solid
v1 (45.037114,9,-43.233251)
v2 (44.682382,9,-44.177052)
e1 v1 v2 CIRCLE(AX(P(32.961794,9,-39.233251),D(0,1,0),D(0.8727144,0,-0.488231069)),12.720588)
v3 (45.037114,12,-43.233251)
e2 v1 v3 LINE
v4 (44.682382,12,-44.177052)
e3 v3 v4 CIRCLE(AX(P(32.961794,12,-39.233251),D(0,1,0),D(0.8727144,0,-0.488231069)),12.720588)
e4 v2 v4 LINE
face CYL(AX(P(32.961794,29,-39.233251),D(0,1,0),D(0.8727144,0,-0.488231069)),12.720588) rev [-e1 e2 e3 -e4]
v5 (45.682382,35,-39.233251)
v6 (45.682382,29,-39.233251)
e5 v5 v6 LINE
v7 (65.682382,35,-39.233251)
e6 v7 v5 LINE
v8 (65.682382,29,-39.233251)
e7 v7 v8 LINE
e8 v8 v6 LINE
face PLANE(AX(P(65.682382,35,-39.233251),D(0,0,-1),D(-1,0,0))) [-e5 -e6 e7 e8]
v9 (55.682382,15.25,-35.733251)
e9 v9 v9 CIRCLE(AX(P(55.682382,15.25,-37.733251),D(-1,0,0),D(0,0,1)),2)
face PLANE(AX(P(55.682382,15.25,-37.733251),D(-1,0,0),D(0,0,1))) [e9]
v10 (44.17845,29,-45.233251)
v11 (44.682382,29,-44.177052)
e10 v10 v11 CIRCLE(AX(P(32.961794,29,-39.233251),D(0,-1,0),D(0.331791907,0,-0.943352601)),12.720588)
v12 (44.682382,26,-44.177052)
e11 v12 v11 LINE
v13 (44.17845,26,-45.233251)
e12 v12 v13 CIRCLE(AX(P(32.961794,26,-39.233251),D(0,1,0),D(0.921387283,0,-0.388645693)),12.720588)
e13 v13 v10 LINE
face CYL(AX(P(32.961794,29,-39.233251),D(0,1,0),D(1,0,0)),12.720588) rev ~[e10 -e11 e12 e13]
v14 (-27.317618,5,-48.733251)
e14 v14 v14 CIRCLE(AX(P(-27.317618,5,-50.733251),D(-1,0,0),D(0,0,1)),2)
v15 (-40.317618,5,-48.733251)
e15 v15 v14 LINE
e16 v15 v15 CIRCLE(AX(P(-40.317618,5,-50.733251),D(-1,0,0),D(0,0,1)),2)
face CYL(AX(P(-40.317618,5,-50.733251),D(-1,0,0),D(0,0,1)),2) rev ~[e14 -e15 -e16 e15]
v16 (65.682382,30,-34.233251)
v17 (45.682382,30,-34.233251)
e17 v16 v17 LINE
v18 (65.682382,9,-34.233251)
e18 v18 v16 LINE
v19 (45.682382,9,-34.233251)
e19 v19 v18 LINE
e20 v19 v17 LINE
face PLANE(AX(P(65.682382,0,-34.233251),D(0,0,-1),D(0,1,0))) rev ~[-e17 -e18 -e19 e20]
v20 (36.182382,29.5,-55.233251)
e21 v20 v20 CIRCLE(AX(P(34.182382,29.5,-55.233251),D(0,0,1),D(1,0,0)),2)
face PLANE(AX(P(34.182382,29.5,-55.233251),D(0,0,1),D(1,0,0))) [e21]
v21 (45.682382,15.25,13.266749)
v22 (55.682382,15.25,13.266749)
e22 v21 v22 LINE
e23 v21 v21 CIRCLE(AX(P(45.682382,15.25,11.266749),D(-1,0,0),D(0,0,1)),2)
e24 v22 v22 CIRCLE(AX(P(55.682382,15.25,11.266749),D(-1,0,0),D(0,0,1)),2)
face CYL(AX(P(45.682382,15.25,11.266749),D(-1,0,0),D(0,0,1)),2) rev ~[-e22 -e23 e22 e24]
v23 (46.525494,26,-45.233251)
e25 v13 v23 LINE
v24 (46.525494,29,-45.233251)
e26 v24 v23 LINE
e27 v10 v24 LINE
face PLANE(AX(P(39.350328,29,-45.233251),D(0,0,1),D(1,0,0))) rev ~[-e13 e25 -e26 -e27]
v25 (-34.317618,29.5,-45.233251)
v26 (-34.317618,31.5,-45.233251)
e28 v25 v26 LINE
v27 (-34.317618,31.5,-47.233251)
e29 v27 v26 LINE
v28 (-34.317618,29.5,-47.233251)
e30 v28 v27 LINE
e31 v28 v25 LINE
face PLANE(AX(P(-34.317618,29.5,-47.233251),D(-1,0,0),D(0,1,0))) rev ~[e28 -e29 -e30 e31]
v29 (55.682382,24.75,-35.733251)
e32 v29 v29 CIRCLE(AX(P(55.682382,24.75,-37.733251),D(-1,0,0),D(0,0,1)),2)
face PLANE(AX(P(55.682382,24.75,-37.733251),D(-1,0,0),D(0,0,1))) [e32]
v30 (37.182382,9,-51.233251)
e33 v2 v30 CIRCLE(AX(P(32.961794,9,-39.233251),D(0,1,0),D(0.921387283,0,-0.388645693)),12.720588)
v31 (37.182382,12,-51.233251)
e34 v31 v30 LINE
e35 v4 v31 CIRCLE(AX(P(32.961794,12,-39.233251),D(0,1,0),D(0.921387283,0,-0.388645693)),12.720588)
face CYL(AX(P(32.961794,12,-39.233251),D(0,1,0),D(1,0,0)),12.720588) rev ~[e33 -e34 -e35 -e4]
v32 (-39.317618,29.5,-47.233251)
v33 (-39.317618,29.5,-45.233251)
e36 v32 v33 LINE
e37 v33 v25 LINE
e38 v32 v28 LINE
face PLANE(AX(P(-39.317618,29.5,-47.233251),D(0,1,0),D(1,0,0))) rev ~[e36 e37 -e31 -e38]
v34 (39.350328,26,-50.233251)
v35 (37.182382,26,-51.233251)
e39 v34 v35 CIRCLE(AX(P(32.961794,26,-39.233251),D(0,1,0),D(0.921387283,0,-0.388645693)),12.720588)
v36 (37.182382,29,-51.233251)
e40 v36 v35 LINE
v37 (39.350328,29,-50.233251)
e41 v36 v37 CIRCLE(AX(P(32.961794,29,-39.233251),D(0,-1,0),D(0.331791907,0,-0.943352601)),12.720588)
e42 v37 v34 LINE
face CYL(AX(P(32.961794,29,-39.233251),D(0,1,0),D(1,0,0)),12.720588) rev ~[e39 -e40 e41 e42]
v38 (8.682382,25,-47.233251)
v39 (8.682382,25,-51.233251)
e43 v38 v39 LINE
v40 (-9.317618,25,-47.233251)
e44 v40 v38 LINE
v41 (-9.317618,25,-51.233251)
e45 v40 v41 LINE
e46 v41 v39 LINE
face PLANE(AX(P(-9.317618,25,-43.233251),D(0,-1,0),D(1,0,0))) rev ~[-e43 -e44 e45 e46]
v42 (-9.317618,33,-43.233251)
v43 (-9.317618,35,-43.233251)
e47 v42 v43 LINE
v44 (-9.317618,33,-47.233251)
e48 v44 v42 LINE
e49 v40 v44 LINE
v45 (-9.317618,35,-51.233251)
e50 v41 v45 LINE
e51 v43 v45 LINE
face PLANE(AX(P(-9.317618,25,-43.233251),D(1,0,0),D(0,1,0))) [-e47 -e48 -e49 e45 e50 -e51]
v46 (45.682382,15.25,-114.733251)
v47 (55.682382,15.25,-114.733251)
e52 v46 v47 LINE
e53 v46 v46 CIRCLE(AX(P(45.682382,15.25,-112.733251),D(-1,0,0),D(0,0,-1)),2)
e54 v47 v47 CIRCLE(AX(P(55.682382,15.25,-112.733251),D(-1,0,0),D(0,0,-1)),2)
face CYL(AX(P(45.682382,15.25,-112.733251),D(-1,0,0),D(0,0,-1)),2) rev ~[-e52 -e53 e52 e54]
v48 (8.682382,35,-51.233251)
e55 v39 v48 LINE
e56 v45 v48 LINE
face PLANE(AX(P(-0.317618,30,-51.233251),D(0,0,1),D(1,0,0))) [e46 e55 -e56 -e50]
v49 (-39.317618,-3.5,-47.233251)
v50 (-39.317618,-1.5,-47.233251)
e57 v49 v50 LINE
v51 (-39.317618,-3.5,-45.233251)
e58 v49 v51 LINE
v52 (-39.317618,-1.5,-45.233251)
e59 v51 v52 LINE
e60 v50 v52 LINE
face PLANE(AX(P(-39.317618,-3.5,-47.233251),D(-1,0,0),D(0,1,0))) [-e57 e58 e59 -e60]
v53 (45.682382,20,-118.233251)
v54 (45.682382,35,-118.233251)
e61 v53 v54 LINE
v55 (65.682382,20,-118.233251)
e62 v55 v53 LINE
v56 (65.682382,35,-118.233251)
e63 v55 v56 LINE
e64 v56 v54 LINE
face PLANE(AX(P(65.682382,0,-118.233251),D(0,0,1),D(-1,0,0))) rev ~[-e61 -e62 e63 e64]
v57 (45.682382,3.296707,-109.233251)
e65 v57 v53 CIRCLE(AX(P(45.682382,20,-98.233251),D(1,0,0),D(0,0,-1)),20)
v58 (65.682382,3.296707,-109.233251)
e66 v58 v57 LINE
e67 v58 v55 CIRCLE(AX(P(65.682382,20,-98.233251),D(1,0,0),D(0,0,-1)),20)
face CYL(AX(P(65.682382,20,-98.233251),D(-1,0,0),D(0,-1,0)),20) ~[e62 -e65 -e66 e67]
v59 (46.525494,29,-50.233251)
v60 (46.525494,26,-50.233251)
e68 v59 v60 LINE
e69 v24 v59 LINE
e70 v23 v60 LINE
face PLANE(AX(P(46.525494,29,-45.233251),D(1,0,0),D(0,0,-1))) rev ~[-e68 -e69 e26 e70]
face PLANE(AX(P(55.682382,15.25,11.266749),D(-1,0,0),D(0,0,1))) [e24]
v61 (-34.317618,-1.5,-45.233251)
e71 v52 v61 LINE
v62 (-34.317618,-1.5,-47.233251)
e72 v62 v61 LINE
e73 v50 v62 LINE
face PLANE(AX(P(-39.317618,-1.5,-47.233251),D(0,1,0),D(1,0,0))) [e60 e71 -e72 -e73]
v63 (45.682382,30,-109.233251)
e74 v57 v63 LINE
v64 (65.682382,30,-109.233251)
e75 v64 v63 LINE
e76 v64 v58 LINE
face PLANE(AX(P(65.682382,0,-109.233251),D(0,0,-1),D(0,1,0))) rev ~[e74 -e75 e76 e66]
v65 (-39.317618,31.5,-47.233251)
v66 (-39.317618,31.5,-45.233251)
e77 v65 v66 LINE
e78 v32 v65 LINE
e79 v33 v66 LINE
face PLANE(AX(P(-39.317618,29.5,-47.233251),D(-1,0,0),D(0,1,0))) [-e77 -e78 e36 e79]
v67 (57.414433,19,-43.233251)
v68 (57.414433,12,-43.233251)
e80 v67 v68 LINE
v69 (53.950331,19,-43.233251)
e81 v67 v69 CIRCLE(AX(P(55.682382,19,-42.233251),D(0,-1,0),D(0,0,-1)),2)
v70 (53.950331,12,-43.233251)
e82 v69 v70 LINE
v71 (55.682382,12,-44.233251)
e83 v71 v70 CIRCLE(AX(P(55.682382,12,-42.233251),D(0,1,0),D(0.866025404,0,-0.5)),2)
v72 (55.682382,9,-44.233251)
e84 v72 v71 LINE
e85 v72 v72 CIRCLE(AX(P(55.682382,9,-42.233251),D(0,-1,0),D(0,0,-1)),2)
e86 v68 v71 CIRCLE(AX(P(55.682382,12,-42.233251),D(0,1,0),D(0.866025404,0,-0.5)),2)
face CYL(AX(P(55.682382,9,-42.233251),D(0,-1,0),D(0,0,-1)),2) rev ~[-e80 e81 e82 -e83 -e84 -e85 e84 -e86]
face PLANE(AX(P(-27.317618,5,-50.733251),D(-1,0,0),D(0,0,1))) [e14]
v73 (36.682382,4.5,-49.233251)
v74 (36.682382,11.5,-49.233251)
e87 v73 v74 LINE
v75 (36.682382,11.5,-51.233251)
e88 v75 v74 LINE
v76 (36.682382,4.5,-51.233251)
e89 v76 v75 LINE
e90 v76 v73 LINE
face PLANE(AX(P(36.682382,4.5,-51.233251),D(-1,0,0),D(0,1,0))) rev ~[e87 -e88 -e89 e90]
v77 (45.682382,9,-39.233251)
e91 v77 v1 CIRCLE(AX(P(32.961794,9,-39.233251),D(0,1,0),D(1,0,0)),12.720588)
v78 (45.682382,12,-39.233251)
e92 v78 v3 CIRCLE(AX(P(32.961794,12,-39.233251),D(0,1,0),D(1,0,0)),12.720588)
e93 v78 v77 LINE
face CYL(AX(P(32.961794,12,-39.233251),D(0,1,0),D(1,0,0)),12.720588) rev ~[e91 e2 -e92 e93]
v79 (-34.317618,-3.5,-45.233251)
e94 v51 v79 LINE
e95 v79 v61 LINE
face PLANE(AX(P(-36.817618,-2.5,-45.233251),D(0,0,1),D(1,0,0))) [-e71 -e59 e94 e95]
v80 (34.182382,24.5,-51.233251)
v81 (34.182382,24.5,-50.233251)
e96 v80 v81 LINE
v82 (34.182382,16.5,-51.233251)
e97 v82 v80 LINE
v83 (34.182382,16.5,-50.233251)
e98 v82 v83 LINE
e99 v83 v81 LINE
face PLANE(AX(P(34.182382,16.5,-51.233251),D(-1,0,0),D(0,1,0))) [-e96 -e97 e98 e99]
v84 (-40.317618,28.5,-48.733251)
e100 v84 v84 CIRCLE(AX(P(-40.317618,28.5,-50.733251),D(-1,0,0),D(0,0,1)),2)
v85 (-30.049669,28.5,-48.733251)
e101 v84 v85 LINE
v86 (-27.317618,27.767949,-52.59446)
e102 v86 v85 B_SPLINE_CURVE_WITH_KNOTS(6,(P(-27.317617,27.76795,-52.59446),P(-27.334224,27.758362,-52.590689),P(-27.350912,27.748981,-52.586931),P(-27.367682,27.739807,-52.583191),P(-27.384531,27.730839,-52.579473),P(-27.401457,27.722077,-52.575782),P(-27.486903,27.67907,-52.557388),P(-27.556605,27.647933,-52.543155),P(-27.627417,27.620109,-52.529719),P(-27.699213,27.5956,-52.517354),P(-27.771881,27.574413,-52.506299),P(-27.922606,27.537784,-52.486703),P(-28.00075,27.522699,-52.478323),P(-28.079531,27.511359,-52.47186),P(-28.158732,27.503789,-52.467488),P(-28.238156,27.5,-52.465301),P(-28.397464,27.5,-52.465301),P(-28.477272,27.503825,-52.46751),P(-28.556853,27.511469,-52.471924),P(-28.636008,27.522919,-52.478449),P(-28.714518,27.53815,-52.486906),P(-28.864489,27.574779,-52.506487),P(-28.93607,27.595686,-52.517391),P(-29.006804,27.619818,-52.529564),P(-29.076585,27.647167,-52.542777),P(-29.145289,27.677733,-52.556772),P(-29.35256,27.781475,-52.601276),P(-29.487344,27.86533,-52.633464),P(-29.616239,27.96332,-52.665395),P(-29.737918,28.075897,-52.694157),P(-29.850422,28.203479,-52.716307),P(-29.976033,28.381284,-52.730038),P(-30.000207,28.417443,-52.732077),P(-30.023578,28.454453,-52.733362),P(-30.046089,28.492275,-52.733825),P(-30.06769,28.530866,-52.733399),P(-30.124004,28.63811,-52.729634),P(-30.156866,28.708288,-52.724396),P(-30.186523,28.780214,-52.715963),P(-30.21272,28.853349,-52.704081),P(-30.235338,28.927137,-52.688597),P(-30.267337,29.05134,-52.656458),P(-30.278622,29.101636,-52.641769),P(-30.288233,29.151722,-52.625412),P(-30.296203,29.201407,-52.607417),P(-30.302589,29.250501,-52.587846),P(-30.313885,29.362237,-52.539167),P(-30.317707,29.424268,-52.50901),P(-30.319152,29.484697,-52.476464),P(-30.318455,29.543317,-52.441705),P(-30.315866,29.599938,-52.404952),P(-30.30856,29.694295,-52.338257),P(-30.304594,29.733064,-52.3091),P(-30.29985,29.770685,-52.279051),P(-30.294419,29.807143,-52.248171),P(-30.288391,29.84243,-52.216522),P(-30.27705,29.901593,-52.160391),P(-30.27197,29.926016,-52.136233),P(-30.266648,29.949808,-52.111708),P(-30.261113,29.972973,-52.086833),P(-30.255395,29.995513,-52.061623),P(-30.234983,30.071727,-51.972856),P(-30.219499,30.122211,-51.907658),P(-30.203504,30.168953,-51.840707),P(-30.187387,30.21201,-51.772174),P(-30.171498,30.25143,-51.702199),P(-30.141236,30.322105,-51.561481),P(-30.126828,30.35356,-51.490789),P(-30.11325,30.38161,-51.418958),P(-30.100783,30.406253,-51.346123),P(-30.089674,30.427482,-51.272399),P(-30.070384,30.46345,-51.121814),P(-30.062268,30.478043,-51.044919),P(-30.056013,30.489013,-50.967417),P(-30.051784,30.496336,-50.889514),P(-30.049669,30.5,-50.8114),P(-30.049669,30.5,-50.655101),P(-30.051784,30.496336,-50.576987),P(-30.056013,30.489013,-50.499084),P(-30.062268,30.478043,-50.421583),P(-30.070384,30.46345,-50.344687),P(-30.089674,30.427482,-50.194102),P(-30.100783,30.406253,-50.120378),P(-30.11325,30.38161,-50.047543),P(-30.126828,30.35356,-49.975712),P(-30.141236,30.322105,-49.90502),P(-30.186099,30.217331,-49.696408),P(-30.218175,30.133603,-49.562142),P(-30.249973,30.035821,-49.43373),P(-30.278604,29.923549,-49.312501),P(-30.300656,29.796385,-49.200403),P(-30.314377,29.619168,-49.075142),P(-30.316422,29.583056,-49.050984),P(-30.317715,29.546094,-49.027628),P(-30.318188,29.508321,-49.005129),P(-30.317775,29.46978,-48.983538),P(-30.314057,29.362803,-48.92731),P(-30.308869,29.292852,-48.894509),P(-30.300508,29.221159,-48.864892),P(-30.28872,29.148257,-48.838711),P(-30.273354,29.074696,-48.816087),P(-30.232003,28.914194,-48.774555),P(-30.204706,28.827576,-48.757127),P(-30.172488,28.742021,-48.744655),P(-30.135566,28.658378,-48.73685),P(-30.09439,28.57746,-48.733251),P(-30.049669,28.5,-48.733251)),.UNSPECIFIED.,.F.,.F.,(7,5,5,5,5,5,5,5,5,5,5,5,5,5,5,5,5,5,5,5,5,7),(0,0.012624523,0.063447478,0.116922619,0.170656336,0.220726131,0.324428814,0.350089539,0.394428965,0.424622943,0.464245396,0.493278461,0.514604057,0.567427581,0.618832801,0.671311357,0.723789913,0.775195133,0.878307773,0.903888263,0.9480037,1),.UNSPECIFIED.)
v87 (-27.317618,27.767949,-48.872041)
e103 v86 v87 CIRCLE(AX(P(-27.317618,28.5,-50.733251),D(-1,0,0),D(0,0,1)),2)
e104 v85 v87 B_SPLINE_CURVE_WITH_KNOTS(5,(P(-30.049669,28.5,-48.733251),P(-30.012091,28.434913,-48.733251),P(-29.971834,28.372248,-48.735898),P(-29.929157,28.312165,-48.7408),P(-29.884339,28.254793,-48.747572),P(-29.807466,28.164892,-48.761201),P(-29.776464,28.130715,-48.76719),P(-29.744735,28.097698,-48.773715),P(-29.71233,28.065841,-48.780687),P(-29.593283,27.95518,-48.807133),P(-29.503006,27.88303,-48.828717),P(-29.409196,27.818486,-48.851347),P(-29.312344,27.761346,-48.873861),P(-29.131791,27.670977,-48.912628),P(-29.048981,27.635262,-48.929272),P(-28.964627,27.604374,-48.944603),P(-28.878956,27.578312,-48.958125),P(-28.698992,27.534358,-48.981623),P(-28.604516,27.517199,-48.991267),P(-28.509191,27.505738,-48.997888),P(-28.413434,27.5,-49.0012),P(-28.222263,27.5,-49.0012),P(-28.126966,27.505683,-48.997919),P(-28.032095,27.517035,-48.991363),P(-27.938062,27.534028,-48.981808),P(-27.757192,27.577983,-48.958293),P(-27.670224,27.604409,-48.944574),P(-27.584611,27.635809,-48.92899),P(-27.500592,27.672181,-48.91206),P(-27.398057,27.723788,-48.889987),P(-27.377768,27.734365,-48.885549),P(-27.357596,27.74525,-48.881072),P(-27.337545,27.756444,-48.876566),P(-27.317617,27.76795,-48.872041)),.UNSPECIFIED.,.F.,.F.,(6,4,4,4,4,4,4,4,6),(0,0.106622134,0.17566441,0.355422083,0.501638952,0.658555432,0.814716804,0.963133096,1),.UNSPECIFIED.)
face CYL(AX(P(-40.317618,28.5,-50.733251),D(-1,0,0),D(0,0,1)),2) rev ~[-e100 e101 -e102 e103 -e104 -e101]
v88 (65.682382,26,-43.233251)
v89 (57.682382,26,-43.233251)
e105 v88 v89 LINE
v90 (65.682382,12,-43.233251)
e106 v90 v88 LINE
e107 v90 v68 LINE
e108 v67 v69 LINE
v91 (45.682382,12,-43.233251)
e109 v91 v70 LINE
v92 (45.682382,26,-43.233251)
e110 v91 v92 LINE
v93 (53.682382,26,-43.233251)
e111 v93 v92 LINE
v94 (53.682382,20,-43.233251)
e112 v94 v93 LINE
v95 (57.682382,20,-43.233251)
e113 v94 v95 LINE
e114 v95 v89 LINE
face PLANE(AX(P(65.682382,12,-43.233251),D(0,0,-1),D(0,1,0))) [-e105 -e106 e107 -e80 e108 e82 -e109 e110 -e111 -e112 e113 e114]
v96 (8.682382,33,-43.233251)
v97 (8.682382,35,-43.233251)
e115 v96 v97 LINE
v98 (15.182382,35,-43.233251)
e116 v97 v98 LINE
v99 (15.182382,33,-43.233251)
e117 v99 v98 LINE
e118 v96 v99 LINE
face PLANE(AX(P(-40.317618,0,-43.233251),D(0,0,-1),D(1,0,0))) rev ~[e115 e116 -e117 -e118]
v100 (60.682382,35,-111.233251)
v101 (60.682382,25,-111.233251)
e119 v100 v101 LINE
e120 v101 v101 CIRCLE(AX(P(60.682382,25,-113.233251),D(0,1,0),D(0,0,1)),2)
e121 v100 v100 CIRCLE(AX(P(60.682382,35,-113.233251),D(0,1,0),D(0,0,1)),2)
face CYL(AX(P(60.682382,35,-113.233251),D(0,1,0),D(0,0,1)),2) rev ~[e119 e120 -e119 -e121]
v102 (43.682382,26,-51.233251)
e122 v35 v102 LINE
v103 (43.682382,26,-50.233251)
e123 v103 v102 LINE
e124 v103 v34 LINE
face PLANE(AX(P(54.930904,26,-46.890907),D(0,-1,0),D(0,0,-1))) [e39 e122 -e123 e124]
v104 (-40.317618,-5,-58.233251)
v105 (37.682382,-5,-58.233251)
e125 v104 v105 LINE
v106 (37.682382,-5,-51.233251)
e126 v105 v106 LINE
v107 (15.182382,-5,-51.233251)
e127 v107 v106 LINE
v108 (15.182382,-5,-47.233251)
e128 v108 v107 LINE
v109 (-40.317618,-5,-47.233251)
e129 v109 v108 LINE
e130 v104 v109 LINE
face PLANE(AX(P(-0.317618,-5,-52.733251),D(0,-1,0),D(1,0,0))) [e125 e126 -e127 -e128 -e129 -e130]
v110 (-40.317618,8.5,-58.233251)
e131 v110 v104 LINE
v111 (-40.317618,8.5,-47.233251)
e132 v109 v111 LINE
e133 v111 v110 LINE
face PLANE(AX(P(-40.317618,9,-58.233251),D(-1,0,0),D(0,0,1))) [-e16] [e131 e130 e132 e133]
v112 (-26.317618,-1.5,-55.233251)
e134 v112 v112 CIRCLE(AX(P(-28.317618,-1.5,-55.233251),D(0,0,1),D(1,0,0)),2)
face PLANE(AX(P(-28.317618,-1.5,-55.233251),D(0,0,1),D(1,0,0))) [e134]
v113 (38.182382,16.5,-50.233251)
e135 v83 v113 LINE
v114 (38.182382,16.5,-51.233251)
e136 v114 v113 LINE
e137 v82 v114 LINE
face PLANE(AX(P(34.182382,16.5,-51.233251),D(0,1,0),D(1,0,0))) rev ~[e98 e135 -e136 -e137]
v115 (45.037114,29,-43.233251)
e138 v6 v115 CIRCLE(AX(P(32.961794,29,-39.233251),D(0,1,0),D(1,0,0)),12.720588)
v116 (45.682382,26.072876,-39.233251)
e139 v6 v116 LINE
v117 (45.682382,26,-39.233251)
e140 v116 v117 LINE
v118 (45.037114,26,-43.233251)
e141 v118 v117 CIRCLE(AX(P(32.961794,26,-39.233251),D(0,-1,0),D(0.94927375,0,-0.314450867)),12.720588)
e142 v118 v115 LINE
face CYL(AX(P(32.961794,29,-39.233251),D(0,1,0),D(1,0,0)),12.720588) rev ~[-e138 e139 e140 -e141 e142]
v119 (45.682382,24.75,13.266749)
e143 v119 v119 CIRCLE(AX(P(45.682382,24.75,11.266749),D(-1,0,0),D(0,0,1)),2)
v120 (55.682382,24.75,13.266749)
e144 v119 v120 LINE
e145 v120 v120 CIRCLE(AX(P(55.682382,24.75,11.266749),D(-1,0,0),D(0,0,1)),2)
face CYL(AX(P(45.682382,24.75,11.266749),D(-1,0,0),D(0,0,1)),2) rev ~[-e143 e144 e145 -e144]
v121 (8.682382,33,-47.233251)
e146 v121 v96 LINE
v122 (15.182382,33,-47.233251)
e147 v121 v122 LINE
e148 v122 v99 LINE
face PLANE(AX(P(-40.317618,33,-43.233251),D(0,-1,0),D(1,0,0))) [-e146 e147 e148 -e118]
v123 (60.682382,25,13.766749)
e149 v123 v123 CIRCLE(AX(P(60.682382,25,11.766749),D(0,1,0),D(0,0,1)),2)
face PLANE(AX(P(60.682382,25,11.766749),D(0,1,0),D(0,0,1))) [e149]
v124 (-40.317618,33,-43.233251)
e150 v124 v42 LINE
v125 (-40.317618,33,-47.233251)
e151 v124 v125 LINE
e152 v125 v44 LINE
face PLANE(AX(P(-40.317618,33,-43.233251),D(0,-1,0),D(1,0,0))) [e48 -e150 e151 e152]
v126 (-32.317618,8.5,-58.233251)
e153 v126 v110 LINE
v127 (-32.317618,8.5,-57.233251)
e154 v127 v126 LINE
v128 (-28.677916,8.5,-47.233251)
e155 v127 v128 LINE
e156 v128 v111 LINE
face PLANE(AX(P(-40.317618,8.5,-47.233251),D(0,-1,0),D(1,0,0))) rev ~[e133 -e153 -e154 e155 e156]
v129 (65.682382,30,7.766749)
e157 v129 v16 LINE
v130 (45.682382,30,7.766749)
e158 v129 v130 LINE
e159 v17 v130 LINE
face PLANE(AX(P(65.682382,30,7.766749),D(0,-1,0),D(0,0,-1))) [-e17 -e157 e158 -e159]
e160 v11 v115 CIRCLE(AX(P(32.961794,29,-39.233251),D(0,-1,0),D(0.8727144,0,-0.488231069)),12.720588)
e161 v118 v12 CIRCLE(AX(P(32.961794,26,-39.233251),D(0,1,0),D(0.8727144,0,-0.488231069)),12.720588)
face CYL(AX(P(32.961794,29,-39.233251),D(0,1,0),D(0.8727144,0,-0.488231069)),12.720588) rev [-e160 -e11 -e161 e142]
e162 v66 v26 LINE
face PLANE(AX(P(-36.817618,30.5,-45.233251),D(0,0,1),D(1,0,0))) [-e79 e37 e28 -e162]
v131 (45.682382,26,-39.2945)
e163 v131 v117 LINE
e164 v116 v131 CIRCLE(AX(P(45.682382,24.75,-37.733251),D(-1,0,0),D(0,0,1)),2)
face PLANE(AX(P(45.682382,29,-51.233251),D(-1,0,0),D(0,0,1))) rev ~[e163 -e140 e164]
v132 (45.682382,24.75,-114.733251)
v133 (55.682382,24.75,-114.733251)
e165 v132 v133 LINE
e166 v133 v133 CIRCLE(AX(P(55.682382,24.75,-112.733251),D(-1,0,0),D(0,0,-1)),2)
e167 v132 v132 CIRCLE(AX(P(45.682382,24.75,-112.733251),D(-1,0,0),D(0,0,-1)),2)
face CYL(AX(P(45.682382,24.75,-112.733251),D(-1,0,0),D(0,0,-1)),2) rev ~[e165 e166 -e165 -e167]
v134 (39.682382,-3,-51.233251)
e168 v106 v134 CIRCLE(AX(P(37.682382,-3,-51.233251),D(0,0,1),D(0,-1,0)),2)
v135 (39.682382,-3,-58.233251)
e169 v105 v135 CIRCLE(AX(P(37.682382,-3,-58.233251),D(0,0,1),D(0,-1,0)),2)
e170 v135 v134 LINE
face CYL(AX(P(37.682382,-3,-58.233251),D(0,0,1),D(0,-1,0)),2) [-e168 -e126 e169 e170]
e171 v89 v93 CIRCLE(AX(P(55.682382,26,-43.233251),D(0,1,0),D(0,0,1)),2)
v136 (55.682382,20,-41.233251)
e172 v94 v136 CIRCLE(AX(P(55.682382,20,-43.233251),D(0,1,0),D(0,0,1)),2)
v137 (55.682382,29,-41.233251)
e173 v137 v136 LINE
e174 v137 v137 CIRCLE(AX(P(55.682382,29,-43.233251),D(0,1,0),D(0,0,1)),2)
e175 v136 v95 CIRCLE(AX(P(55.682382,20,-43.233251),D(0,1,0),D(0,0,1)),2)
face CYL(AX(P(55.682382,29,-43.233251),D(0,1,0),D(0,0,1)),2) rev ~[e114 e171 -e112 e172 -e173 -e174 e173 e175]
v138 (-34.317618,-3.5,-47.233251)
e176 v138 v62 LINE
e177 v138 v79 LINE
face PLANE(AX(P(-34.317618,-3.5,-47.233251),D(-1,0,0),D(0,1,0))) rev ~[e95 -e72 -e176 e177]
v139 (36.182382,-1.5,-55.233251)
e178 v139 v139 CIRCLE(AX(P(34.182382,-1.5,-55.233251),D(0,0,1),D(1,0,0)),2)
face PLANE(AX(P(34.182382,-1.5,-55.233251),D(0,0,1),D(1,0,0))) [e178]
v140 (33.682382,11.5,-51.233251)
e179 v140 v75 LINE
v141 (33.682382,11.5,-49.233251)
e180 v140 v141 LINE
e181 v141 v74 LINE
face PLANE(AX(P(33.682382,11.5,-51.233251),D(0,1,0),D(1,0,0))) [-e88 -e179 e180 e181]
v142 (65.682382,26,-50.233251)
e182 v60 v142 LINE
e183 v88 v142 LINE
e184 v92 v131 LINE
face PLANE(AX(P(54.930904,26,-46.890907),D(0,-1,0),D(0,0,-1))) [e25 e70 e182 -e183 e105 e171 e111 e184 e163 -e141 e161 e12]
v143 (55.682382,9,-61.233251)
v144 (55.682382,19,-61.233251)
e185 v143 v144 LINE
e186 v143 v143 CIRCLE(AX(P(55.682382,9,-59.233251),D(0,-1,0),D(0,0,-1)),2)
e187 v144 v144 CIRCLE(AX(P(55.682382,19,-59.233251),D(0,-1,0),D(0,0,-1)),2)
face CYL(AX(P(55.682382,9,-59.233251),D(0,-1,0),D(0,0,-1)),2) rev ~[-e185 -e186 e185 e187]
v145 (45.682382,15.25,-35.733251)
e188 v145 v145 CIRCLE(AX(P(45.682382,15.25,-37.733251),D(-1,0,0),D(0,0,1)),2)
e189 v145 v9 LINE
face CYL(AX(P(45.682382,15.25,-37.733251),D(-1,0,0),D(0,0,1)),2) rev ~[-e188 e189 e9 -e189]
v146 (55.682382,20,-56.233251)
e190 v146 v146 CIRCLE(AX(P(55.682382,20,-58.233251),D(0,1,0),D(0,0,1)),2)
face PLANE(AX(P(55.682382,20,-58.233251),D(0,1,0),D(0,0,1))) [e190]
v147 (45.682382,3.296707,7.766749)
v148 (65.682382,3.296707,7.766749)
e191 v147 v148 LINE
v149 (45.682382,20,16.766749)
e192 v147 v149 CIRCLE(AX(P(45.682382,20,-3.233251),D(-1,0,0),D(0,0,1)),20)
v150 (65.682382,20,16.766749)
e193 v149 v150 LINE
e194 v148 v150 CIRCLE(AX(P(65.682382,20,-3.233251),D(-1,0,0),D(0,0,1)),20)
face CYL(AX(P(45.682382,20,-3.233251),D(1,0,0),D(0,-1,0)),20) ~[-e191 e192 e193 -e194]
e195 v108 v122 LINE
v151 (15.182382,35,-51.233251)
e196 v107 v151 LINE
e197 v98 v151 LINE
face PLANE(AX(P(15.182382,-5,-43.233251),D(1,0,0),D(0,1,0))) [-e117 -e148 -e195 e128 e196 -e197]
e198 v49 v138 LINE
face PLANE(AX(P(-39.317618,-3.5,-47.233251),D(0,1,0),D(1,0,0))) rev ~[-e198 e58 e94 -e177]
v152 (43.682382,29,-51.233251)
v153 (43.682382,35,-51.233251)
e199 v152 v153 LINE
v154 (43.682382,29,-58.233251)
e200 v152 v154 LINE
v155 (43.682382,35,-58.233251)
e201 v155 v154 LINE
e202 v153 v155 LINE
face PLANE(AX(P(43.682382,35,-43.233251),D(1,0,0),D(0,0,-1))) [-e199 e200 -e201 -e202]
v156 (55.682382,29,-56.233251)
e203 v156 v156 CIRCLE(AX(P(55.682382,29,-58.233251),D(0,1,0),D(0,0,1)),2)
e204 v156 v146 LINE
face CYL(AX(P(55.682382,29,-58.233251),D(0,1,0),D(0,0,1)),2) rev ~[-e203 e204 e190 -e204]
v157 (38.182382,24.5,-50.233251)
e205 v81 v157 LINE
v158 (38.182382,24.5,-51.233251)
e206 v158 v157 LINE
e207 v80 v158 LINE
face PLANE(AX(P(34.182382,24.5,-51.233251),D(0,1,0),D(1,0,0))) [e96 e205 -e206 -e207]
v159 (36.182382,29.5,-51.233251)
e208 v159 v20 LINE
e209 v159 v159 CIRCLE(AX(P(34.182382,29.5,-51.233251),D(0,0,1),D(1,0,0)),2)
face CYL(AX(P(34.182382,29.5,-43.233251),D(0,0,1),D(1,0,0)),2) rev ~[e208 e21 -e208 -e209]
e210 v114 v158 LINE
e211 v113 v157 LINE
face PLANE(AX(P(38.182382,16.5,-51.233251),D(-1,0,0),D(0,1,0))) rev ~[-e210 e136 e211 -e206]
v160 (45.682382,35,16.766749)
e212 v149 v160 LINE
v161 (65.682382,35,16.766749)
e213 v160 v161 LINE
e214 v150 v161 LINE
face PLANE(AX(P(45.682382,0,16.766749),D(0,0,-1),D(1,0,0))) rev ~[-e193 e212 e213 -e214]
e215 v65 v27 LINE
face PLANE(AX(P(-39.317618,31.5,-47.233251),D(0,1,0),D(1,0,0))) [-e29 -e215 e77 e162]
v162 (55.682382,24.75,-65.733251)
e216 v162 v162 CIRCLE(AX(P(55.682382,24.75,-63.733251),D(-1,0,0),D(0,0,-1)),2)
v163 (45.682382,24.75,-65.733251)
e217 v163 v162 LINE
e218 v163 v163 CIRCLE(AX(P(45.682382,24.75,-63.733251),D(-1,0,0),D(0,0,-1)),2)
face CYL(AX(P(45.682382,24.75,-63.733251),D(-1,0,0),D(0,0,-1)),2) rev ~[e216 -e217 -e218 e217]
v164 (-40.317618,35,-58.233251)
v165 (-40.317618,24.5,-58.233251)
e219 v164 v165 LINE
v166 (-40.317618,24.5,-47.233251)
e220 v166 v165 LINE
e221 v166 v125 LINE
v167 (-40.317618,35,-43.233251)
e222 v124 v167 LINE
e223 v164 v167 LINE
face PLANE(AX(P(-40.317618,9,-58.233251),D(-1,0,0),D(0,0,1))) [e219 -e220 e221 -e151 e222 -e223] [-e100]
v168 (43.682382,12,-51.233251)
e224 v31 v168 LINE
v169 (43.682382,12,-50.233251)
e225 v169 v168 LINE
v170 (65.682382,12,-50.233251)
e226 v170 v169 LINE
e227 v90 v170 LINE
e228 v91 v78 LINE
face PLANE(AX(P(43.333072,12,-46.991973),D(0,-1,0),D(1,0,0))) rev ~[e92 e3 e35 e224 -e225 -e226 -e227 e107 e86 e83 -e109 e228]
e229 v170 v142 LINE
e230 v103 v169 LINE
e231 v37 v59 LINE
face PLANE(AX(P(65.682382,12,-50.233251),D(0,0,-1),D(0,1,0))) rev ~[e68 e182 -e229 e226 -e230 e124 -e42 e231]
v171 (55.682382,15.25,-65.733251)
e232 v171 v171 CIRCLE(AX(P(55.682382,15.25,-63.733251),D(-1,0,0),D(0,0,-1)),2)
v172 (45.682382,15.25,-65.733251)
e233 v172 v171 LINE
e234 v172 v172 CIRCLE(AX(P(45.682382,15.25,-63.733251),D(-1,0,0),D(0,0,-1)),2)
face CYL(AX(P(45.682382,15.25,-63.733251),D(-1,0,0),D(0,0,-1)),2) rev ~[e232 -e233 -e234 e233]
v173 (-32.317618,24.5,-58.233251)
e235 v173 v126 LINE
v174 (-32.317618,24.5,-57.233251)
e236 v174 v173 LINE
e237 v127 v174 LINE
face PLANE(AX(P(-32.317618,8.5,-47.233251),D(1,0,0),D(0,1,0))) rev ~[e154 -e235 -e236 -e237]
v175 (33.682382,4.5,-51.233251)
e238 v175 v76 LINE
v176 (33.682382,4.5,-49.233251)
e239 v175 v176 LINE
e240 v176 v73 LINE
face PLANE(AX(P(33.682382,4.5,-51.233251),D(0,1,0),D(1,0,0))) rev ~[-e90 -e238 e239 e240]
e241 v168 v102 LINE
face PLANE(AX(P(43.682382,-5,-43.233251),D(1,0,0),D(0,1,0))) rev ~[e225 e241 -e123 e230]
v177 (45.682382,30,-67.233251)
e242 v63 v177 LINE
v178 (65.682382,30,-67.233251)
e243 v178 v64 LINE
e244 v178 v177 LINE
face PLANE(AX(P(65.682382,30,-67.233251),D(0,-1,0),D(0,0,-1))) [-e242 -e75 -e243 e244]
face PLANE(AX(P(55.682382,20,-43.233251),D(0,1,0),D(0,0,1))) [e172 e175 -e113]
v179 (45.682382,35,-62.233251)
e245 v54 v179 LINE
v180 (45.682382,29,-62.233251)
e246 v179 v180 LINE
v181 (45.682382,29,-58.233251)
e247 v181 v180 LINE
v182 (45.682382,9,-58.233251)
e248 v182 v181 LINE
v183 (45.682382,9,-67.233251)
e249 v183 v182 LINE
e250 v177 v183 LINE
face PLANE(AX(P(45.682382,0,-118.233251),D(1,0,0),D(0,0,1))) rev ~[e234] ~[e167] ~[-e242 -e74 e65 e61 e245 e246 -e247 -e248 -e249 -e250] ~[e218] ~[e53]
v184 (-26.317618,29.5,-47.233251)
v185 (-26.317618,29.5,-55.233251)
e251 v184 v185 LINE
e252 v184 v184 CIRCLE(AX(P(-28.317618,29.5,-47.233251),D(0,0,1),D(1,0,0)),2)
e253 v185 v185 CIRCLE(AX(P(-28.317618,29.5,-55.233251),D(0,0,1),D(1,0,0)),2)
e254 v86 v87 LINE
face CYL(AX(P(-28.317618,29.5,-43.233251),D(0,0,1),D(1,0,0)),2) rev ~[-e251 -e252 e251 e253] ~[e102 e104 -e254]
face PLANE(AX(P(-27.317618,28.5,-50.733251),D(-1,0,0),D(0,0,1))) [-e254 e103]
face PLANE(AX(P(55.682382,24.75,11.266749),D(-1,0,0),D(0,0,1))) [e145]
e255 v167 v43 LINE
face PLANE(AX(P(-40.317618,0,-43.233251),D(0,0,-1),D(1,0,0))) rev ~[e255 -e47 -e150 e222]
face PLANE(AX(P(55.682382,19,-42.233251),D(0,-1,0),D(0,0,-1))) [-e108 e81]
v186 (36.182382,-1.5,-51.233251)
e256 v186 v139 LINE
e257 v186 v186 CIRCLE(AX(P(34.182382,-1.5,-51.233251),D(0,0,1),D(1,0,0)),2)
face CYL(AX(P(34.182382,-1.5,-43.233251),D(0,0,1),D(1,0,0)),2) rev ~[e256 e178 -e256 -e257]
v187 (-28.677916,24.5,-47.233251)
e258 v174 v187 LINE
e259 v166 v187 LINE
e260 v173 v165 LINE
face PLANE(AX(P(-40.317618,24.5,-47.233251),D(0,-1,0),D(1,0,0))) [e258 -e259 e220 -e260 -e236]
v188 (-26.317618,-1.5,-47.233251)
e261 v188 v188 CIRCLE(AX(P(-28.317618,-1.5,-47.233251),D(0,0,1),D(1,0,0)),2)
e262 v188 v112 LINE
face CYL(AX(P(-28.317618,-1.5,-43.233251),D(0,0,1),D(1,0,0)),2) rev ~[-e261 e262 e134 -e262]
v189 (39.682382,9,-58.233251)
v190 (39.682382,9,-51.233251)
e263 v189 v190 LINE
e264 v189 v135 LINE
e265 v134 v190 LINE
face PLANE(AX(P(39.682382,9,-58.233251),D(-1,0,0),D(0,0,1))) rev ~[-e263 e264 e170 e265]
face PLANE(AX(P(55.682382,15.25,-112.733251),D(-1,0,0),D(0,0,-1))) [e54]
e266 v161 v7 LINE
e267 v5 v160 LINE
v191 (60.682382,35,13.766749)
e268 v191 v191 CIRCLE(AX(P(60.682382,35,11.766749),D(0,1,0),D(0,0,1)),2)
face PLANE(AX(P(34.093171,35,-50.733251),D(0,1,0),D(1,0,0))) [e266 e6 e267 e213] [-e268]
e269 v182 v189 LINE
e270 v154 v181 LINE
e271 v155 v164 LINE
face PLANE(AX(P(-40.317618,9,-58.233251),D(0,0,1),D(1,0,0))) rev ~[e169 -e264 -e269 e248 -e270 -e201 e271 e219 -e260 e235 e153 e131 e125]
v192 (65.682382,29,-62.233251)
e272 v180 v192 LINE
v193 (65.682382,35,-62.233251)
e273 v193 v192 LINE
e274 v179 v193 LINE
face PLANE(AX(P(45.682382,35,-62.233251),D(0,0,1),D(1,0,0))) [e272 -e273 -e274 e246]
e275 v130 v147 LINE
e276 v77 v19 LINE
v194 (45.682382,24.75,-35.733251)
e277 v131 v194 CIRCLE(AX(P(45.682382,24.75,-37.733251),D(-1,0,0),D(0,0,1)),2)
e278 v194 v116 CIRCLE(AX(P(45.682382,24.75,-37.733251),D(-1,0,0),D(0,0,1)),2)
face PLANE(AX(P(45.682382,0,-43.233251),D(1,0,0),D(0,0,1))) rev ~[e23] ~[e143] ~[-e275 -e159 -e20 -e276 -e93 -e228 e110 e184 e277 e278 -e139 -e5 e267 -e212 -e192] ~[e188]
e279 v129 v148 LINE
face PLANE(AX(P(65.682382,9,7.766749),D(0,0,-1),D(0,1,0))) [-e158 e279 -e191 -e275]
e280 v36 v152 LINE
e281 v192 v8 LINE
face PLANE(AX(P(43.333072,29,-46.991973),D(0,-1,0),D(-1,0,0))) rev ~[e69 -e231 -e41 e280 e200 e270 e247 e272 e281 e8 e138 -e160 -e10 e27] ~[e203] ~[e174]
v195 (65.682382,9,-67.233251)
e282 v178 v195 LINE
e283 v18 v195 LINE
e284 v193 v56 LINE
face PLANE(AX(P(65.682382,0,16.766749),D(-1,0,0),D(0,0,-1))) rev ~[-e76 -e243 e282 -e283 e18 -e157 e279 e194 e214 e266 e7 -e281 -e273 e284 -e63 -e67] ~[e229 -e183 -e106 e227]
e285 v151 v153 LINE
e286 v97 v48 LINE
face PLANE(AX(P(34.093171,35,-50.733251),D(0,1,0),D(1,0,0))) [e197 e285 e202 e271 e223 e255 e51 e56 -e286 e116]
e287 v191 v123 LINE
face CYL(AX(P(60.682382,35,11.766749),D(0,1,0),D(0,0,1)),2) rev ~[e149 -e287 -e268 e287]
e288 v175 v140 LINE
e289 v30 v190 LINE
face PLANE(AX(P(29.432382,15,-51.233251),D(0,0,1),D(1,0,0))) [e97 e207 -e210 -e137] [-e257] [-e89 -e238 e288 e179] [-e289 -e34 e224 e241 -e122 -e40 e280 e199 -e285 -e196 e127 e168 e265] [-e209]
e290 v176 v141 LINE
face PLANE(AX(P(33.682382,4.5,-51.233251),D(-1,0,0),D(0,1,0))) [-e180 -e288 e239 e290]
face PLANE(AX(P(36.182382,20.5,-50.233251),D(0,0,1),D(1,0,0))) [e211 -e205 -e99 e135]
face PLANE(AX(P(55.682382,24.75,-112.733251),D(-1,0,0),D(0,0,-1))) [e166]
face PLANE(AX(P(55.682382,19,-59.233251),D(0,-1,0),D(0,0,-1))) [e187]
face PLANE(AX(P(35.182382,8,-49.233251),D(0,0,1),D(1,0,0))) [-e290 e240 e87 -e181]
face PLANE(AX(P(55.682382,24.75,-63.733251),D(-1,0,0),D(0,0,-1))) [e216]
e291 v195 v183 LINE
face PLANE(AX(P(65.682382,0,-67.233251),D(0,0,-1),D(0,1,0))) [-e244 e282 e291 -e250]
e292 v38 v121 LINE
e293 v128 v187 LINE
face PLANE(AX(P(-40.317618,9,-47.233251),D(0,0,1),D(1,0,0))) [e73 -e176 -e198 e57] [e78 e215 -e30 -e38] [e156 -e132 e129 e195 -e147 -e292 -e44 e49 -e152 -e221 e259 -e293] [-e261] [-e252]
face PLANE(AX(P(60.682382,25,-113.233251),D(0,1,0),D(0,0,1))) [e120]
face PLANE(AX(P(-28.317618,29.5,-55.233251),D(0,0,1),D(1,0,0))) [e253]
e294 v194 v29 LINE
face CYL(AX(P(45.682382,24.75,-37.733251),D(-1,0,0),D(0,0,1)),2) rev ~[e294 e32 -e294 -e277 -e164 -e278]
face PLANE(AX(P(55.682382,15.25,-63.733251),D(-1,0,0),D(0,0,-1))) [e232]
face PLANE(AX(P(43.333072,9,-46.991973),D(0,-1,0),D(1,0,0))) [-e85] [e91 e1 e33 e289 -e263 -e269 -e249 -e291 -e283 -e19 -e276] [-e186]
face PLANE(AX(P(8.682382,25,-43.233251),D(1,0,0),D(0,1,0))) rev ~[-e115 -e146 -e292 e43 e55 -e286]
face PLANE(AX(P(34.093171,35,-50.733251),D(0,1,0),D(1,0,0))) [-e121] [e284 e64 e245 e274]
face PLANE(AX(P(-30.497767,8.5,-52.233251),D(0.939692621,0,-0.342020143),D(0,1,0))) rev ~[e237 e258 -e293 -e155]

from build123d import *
from build123d.topology import SkipClean

# Parameters (mm, degrees)
BOSS_EXTRUDE1_DEPTH      = 35
CUT_EXTRUDE1_REACH       = 164.604
SKETCH2_W                = 42
SKETCH2_H                = 21
SKETCH3_R                = 2
CUT_EXTRUDE2_DEPTH       = 10
FILLET1_R                = 20
CUT_EXTRUDE5_REACH       = 164.604
SKETCH6_W                = 42
SKETCH6_H                = 9
CUT_EXTRUDE7_DEPTH       = 9
SKETCH9_R                = 2
CUT_EXTRUDE8_DEPTH       = 10
CUT_EXTRUDE9_DEPTH       = 6
SKETCH11_R               = 2
CUT_EXTRUDE10_DEPTH      = 9
SKETCH12_R               = 2
CUT_EXTRUDE11_DEPTH      = 10
SKETCH14_W               = 85
SKETCH14_H               = 33
CUT_EXTRUDE13_DEPTH      = 4
SKETCH15_W               = 28
SKETCH15_H               = 20
CUT_EXTRUDE14_DEPTH      = 4
BOSS_EXTRUDE2_DEPTH      = 5
BOSS_EXTRUDE2_DEPTH_BACK = 9
SKETCH16_W               = 80
SKETCH16_H               = 11
SKETCH13_R               = 2
CUT_EXTRUDE12_DEPTH      = 12
FILLET2_R                = 2
SKETCH17_W               = 28.5
SKETCH17_H               = 40
SKETCH17_W_2             = 18
SKETCH17_H_2             = 10
CUT_EXTRUDE15_DEPTH      = 8
CUT_EXTRUDE18_REACH      = 104.86
SKETCH20_W               = 8
SKETCH20_H               = 16
SKETCH7_R                = 2
CUT_EXTRUDE6_DEPTH       = 13
CHAMFER1_SIZE            = 10
CHAMFER1_SIZE2           = 3.639702343
CUT_EXTRUDE19_REACH      = 164.604
SKETCH22_W               = 7
SKETCH22_H               = 14
BOSS_EXTRUDE4_REACH      = 141.461
BOSS_EXTRUDE5_START      = -3
BOSS_EXTRUDE5_DEPTH      = 3
CUT_EXTRUDE21_DEPTH      = 140.460664257
CUT_EXTRUDE22_REACH      = 141.461
SKETCH27_W               = 7.175165893
SKETCH27_H               = 5
SKETCH28_W               = 5
SKETCH28_H               = 2
BOSS_EXTRUDE6_DEPTH      = 2
SKETCH29_W               = 4
SKETCH29_H               = 8
BOSS_EXTRUDE7_DEPTH      = 1
SKETCH30_W               = 3
SKETCH30_H               = 7
BOSS_EXTRUDE8_DEPTH      = 2


with BuildPart() as part:
    # Sketch1 → Boss-Extrude1 (new body)
    with BuildSketch(Plane(origin=(0, 0, 0), x_dir=(1, 0, 0), z_dir=(0, 1, 0))):
        Polygon((-40.317617866, 43.23325062), (45.682382134, 43.23325062), (45.682382134, -16.76674938), (65.682382134, -16.76674938), (65.682382134, 118.23325062), (45.682382134, 118.23325062), (45.682382134, 58.23325062), (-40.317617866, 58.23325062), align=None)
    extrude(amount=BOSS_EXTRUDE1_DEPTH)

    # Sketch2 → Cut-Extrude1 (cut, up to next)
    with BuildSketch(Plane(origin=(65.682382134, 0, 0), x_dir=(0, 0, -1), z_dir=(1, 0, 0)), mode=Mode.PRIVATE) as cut_extrude1_sk1:
        with Locations((13.23325062, 19.5)):
            Rectangle(SKETCH2_W, SKETCH2_H)
    cut_extrude1_tool1 = extrude(cut_extrude1_sk1.sketch, amount=-CUT_EXTRUDE1_REACH, mode=Mode.PRIVATE) & part.part
    # Sketch2 → Cut-Extrude1 (cut, up to next)
    with BuildSketch(Plane(origin=(65.682382134, 0, 0), x_dir=(0, 0, -1), z_dir=(1, 0, 0)), mode=Mode.PRIVATE) as cut_extrude1_sk2:
        with Locations((88.23325062, 19.5)):
            Rectangle(SKETCH2_W, SKETCH2_H)
    cut_extrude1_tool2 = extrude(cut_extrude1_sk2.sketch, amount=-CUT_EXTRUDE1_REACH, mode=Mode.PRIVATE) & part.part
    add(cut_extrude1_tool1.solids().sort_by_distance((65.682382, 19.5, -13.233251))[0], mode=Mode.SUBTRACT)
    add(cut_extrude1_tool2.solids().sort_by_distance((65.682382, 19.5, -88.233251))[0], mode=Mode.SUBTRACT)

    # Sketch3 → Cut-Extrude2 (cut)
    with BuildSketch(Plane.ZY.offset(-45.682382134)):
        with Locations((11.26674938, 24.75)):
            Circle(SKETCH3_R)
        with Locations((11.26674938, 15.25)):
            Circle(SKETCH3_R)
        with Locations((-37.73325062, 24.75)):
            Circle(SKETCH3_R)
        with Locations((-37.73325062, 15.25)):
            Circle(SKETCH3_R)
        with Locations(Location((-112.73325062, 24.75, 0), (0, 0, 180))):
            Circle(SKETCH3_R)
        with Locations(Location((-112.73325062, 15.25, 0), (0, 0, 180))):
            Circle(SKETCH3_R)
        with Locations(Location((-63.73325062, 15.25, 0), (0, 0, 180))):
            Circle(SKETCH3_R)
        with Locations(Location((-63.73325062, 24.75, 0), (0, 0, 180))):
            Circle(SKETCH3_R)
    extrude(amount=-CUT_EXTRUDE2_DEPTH, mode=Mode.SUBTRACT)

    # Fillet1
    fillet1_edges = [part.edges().sort_by_distance(p)[0] for p in [
        (55.682382134, 0, -118.23325062),
        (55.682382134, 0, 16.76674938),
    ]]
    fillet(fillet1_edges, radius=FILLET1_R)

    # Sketch6 → Cut-Extrude5 (cut, up to next)
    with BuildSketch(Plane(origin=(65.682382134, 0, 0), x_dir=(0, 0, -1), z_dir=(1, 0, 0)), mode=Mode.PRIVATE) as cut_extrude5_sk1:
        with Locations((13.23325062, 4.5)):
            Rectangle(SKETCH6_W, SKETCH6_H)
    cut_extrude5_tool1 = extrude(cut_extrude5_sk1.sketch, amount=-CUT_EXTRUDE5_REACH, mode=Mode.PRIVATE) & part.part
    # Sketch6 → Cut-Extrude5 (cut, up to next)
    with BuildSketch(Plane(origin=(65.682382134, 0, 0), x_dir=(0, 0, -1), z_dir=(1, 0, 0)), mode=Mode.PRIVATE) as cut_extrude5_sk2:
        with Locations((88.23325062, 4.5)):
            Rectangle(SKETCH6_W, SKETCH6_H)
    cut_extrude5_tool2 = extrude(cut_extrude5_sk2.sketch, amount=-CUT_EXTRUDE5_REACH, mode=Mode.PRIVATE) & part.part
    add(cut_extrude5_tool1.solids().sort_by_distance((65.682382, 4.5, -13.233251))[0], mode=Mode.SUBTRACT)
    add(cut_extrude5_tool2.solids().sort_by_distance((65.682382, 4.5, -88.233251))[0], mode=Mode.SUBTRACT)

    # Sketch8 → Cut-Extrude7 (cut)
    with BuildSketch(Plane.XZ):
        Polygon((45.682382134, -67.23325062), (45.682382134, -58.23325062), (25.682382134, -58.23325062), (25.682382134, -43.23325062), (45.682382134, -43.23325062), (45.682382134, -34.23325062), (65.682382134, -34.23325062), (65.682382134, -67.23325062), align=None)
    extrude(amount=-CUT_EXTRUDE7_DEPTH, mode=Mode.SUBTRACT)

    # Sketch9 → Cut-Extrude8 (cut)
    with BuildSketch(Plane.XZ.offset(-9)):
        with Locations(Location((55.682382134, -42.23325062, 0), (0, 0, 270))):
            Circle(SKETCH9_R)
        with Locations(Location((55.682382134, -59.23325062, 0), (0, 0, 270))):
            Circle(SKETCH9_R)
    extrude(amount=-CUT_EXTRUDE8_DEPTH, mode=Mode.SUBTRACT)

    # Sketch10 → Cut-Extrude9 (cut)
    with BuildSketch(Plane(origin=(0, 35, 0), x_dir=(1, 0, 0), z_dir=(0, 1, 0))):
        Polygon((45.682382134, 62.23325062), (65.682382134, 62.23325062), (65.682382134, 39.23325062), (45.682382134, 39.23325062), (45.682382134, 43.23325062), (43.682382134, 43.23325062), (43.682382134, 58.23325062), (45.682382134, 58.23325062), align=None)
    extrude(amount=-CUT_EXTRUDE9_DEPTH, mode=Mode.SUBTRACT)

    # Sketch11 → Cut-Extrude10 (cut)
    with BuildSketch(Plane(origin=(0, 29, 0), x_dir=(1, 0, 0), z_dir=(0, 1, 0))):
        with Locations(Location((55.682382134, 58.23325062, 0), (0, 0, 270))):
            Circle(SKETCH11_R)
        with Locations(Location((55.682382134, 43.23325062, 0), (0, 0, 270))):
            Circle(SKETCH11_R)
    extrude(amount=-CUT_EXTRUDE10_DEPTH, mode=Mode.SUBTRACT)

    # Sketch12 → Cut-Extrude11 (cut)
    with BuildSketch(Plane(origin=(0, 35, 0), x_dir=(1, 0, 0), z_dir=(0, 1, 0))):
        with Locations(Location((60.682382134, -11.76674938, 0), (0, 0, 270))):
            Circle(SKETCH12_R)
        with Locations(Location((60.682382134, 113.23325062, 0), (0, 0, 270))):
            Circle(SKETCH12_R)
    extrude(amount=-CUT_EXTRUDE11_DEPTH, mode=Mode.SUBTRACT)

    # Sketch14 → Cut-Extrude13 (cut)
    with BuildSketch(Plane.XY.offset(-43.23325062)):
        with Locations((2.182382134, 16.5)):
            Rectangle(SKETCH14_W, SKETCH14_H)
    extrude(amount=-CUT_EXTRUDE13_DEPTH, mode=Mode.SUBTRACT)

    # Sketch15 → Cut-Extrude14 (cut)
    with BuildSketch(Plane.XY.offset(-47.23325062)):
        with Locations((29.682382134, 10)):
            Rectangle(SKETCH15_W, SKETCH15_H)
    extrude(amount=-CUT_EXTRUDE14_DEPTH, mode=Mode.SUBTRACT)

    # Sketch16 → Boss-Extrude2 (add, two sides: drawn at the far end of the back side and taken through both)
    with BuildSketch(Plane.XZ.offset(-BOSS_EXTRUDE2_DEPTH_BACK)):
        with Locations((-0.317617866, -52.73325062)):
            Rectangle(SKETCH16_W, SKETCH16_H)
    extrude(amount=BOSS_EXTRUDE2_DEPTH + BOSS_EXTRUDE2_DEPTH_BACK)

    # Sketch13 → Cut-Extrude12 (cut)
    with BuildSketch(Plane.XY.offset(-43.23325062)):
        with Locations((-28.317617866, 29.5)):
            Circle(SKETCH13_R)
        with Locations((34.182382134, 29.5)):
            Circle(SKETCH13_R)
        with Locations((34.182382134, -1.5)):
            Circle(SKETCH13_R)
        with Locations((-28.317617866, -1.5)):
            Circle(SKETCH13_R)
    extrude(amount=-CUT_EXTRUDE12_DEPTH, mode=Mode.SUBTRACT)

    # Fillet2
    fillet2_edges = [part.edges().sort_by_distance(p)[0] for p in [
        (39.682382134, -5, -52.73325062),
    ]]
    fillet(fillet2_edges, radius=FILLET2_R)

    # Sketch17 → Cut-Extrude15 (cut)
    with BuildSketch(Plane.XY.offset(-43.23325062)):
        with Locations((29.432382134, 15)):
            Rectangle(SKETCH17_W, SKETCH17_H)
        with Locations((-0.317617866, 30)):
            Rectangle(SKETCH17_W_2, SKETCH17_H_2)
    extrude(amount=-CUT_EXTRUDE15_DEPTH, mode=Mode.SUBTRACT)

    # Sketch20 → Cut-Extrude18 (cut, up to next)
    with BuildSketch(Plane.XY.offset(-47.23325062), mode=Mode.PRIVATE) as cut_extrude18_sk1:
        with Locations((-36.317617866, 16.5)):
            Rectangle(SKETCH20_W, SKETCH20_H)
    cut_extrude18_tool1 = extrude(cut_extrude18_sk1.sketch, amount=-CUT_EXTRUDE18_REACH, mode=Mode.PRIVATE) & part.part
    add(cut_extrude18_tool1.solids().sort_by_distance((-36.317618, 16.5, -47.233251))[0], mode=Mode.SUBTRACT)

    # Sketch7 → Cut-Extrude6 (cut)
    with BuildSketch(Plane.ZY.offset(40.317617866)):
        with Locations((-50.73325062, 28.5)):
            Circle(SKETCH7_R)
        with Locations((-50.73325062, 5)):
            Circle(SKETCH7_R)
    extrude(amount=-CUT_EXTRUDE6_DEPTH, mode=Mode.SUBTRACT)

    # Chamfer1
    chamfer1_edges = [part.edges().sort_by_distance(p)[0] for p in [
        (-32.317617866, 16.5, -47.23325062),
    ]]
    chamfer1_side = [part.faces().sort_by_distance(p)[0] for p in [
        (-32.317617866, 16.5, -52.73325062),
    ]]
    chamfer(chamfer1_edges, length=CHAMFER1_SIZE, length2=CHAMFER1_SIZE2, reference=chamfer1_side[0])

    # Sketch22 → Cut-Extrude19 (cut, up to next)
    with BuildSketch(Plane(origin=(65.682382134, 0, 0), x_dir=(0, 0, -1), z_dir=(1, 0, 0)), mode=Mode.PRIVATE) as cut_extrude19_sk1:
        with Locations((46.73325062, 19)):
            Rectangle(SKETCH22_W, SKETCH22_H)
    cut_extrude19_tool1 = extrude(cut_extrude19_sk1.sketch, amount=-CUT_EXTRUDE19_REACH, mode=Mode.PRIVATE) & part.part
    add(cut_extrude19_tool1.solids().sort_by_distance((65.682382, 19, -46.733251))[0], mode=Mode.SUBTRACT)

    # Boss-Extrude4: up to this face of the body (flat: up to its plane)
    boss_extrude4_end = Plane(part.part.faces().sort_by_distance((54.930904304, 26, -46.8909066))[0])
    # Sketch24 → Boss-Extrude4 (add, up to the picked face)
    with BuildSketch(Plane(origin=(0, 29, 0), x_dir=(1, 0, 0), z_dir=(0, 1, 0)), mode=Mode.PRIVATE) as boss_extrude4_sk1:
        with BuildLine():
            Line((37.182382134, 51.23325062), (45.682382134, 51.23325062))
            Line((45.682382134, 51.23325062), (45.682382134, 39.23325062))
            ThreePointArc((45.682382134, 39.23325062), (43.342105313, 46.585971205), (37.182382134, 51.23325062))
        make_face()
    boss_extrude4_tool1 = split(extrude(boss_extrude4_sk1.sketch, amount=-BOSS_EXTRUDE4_REACH, mode=Mode.PRIVATE), bisect_by=boss_extrude4_end, keep=Keep.BOTH, mode=Mode.PRIVATE)
    add(boss_extrude4_tool1.solids().sort_by(Axis((43.397163, 29, -48.466484), (0, -1, 0)))[0])

    # Sketch25 → Boss-Extrude5 (add)
    with BuildSketch(Plane.XZ.offset(-9).offset(BOSS_EXTRUDE5_START)):
        with BuildLine():
            Line((37.182382134, -51.23325062), (45.682382134, -51.23325062))
            Line((45.682382134, -51.23325062), (45.682382134, -39.23325062))
            ThreePointArc((45.682382134, -39.23325062), (43.342105313, -46.585971205), (37.182382134, -51.23325062))
        make_face()
    extrude(amount=BOSS_EXTRUDE5_DEPTH)

    # Sketch26 → Cut-Extrude21 (cut, through all)
    with BuildSketch(Plane(origin=(0, 29, 0), x_dir=(1, 0, 0), z_dir=(0, 1, 0))):
        with BuildLine():
            Line((45.239754001, 42.559669232), (43.686053775, 42.559669232))
            Line((43.686053775, 42.559669232), (44.063234426, 45.443837008))
            ThreePointArc((44.063234426, 45.443837008), (44.740108693, 44.037901041), (45.239754001, 42.559669232))
        make_face()
    extrude(amount=-CUT_EXTRUDE21_DEPTH, mode=Mode.SUBTRACT)

    # Sketch27 → Cut-Extrude22 (cut, up to next)
    with BuildSketch(Plane(origin=(0, 29, 0), x_dir=(1, 0, 0), z_dir=(0, 1, 0)), mode=Mode.PRIVATE) as cut_extrude22_sk1:
        with Locations((42.937910719, 47.73325062)):
            Rectangle(SKETCH27_W, SKETCH27_H)
    cut_extrude22_tool1 = extrude(cut_extrude22_sk1.sketch, amount=-CUT_EXTRUDE22_REACH, mode=Mode.PRIVATE) & part.part
    add(cut_extrude22_tool1.solids().sort_by_distance((42.937911, 29, -47.733251))[0], mode=Mode.SUBTRACT)

    # Sketch28 → Boss-Extrude6 (add)
    with SkipClean():  # the faces are left unmerged after this step: merging them gives an invalid solid
        with BuildSketch(Plane.XY.offset(-47.23325062)):
            with Locations((-36.817617866, 30.5)):
                Rectangle(SKETCH28_W, SKETCH28_H)
            with Locations((-36.817617866, -2.5)):
                Rectangle(SKETCH28_W, SKETCH28_H)
        extrude(amount=BOSS_EXTRUDE6_DEPTH)

    # Sketch29 → Boss-Extrude7 (add)
    with SkipClean():  # the faces are left unmerged after this step: merging them gives an invalid solid
        with BuildSketch(Plane.XY.offset(-51.23325062)):
            with Locations((36.182382134, 20.5)):
                Rectangle(SKETCH29_W, SKETCH29_H)
        extrude(amount=BOSS_EXTRUDE7_DEPTH)

    # Sketch30 → Boss-Extrude8 (add)
    with SkipClean():  # the faces are left unmerged after this step: merging them gives an invalid solid
        with BuildSketch(Plane.XY.offset(-51.23325062)):
            with Locations((35.182382134, 8)):
                Rectangle(SKETCH30_W, SKETCH30_H)
        extrude(amount=BOSS_EXTRUDE8_DEPTH)


solid = part.part
